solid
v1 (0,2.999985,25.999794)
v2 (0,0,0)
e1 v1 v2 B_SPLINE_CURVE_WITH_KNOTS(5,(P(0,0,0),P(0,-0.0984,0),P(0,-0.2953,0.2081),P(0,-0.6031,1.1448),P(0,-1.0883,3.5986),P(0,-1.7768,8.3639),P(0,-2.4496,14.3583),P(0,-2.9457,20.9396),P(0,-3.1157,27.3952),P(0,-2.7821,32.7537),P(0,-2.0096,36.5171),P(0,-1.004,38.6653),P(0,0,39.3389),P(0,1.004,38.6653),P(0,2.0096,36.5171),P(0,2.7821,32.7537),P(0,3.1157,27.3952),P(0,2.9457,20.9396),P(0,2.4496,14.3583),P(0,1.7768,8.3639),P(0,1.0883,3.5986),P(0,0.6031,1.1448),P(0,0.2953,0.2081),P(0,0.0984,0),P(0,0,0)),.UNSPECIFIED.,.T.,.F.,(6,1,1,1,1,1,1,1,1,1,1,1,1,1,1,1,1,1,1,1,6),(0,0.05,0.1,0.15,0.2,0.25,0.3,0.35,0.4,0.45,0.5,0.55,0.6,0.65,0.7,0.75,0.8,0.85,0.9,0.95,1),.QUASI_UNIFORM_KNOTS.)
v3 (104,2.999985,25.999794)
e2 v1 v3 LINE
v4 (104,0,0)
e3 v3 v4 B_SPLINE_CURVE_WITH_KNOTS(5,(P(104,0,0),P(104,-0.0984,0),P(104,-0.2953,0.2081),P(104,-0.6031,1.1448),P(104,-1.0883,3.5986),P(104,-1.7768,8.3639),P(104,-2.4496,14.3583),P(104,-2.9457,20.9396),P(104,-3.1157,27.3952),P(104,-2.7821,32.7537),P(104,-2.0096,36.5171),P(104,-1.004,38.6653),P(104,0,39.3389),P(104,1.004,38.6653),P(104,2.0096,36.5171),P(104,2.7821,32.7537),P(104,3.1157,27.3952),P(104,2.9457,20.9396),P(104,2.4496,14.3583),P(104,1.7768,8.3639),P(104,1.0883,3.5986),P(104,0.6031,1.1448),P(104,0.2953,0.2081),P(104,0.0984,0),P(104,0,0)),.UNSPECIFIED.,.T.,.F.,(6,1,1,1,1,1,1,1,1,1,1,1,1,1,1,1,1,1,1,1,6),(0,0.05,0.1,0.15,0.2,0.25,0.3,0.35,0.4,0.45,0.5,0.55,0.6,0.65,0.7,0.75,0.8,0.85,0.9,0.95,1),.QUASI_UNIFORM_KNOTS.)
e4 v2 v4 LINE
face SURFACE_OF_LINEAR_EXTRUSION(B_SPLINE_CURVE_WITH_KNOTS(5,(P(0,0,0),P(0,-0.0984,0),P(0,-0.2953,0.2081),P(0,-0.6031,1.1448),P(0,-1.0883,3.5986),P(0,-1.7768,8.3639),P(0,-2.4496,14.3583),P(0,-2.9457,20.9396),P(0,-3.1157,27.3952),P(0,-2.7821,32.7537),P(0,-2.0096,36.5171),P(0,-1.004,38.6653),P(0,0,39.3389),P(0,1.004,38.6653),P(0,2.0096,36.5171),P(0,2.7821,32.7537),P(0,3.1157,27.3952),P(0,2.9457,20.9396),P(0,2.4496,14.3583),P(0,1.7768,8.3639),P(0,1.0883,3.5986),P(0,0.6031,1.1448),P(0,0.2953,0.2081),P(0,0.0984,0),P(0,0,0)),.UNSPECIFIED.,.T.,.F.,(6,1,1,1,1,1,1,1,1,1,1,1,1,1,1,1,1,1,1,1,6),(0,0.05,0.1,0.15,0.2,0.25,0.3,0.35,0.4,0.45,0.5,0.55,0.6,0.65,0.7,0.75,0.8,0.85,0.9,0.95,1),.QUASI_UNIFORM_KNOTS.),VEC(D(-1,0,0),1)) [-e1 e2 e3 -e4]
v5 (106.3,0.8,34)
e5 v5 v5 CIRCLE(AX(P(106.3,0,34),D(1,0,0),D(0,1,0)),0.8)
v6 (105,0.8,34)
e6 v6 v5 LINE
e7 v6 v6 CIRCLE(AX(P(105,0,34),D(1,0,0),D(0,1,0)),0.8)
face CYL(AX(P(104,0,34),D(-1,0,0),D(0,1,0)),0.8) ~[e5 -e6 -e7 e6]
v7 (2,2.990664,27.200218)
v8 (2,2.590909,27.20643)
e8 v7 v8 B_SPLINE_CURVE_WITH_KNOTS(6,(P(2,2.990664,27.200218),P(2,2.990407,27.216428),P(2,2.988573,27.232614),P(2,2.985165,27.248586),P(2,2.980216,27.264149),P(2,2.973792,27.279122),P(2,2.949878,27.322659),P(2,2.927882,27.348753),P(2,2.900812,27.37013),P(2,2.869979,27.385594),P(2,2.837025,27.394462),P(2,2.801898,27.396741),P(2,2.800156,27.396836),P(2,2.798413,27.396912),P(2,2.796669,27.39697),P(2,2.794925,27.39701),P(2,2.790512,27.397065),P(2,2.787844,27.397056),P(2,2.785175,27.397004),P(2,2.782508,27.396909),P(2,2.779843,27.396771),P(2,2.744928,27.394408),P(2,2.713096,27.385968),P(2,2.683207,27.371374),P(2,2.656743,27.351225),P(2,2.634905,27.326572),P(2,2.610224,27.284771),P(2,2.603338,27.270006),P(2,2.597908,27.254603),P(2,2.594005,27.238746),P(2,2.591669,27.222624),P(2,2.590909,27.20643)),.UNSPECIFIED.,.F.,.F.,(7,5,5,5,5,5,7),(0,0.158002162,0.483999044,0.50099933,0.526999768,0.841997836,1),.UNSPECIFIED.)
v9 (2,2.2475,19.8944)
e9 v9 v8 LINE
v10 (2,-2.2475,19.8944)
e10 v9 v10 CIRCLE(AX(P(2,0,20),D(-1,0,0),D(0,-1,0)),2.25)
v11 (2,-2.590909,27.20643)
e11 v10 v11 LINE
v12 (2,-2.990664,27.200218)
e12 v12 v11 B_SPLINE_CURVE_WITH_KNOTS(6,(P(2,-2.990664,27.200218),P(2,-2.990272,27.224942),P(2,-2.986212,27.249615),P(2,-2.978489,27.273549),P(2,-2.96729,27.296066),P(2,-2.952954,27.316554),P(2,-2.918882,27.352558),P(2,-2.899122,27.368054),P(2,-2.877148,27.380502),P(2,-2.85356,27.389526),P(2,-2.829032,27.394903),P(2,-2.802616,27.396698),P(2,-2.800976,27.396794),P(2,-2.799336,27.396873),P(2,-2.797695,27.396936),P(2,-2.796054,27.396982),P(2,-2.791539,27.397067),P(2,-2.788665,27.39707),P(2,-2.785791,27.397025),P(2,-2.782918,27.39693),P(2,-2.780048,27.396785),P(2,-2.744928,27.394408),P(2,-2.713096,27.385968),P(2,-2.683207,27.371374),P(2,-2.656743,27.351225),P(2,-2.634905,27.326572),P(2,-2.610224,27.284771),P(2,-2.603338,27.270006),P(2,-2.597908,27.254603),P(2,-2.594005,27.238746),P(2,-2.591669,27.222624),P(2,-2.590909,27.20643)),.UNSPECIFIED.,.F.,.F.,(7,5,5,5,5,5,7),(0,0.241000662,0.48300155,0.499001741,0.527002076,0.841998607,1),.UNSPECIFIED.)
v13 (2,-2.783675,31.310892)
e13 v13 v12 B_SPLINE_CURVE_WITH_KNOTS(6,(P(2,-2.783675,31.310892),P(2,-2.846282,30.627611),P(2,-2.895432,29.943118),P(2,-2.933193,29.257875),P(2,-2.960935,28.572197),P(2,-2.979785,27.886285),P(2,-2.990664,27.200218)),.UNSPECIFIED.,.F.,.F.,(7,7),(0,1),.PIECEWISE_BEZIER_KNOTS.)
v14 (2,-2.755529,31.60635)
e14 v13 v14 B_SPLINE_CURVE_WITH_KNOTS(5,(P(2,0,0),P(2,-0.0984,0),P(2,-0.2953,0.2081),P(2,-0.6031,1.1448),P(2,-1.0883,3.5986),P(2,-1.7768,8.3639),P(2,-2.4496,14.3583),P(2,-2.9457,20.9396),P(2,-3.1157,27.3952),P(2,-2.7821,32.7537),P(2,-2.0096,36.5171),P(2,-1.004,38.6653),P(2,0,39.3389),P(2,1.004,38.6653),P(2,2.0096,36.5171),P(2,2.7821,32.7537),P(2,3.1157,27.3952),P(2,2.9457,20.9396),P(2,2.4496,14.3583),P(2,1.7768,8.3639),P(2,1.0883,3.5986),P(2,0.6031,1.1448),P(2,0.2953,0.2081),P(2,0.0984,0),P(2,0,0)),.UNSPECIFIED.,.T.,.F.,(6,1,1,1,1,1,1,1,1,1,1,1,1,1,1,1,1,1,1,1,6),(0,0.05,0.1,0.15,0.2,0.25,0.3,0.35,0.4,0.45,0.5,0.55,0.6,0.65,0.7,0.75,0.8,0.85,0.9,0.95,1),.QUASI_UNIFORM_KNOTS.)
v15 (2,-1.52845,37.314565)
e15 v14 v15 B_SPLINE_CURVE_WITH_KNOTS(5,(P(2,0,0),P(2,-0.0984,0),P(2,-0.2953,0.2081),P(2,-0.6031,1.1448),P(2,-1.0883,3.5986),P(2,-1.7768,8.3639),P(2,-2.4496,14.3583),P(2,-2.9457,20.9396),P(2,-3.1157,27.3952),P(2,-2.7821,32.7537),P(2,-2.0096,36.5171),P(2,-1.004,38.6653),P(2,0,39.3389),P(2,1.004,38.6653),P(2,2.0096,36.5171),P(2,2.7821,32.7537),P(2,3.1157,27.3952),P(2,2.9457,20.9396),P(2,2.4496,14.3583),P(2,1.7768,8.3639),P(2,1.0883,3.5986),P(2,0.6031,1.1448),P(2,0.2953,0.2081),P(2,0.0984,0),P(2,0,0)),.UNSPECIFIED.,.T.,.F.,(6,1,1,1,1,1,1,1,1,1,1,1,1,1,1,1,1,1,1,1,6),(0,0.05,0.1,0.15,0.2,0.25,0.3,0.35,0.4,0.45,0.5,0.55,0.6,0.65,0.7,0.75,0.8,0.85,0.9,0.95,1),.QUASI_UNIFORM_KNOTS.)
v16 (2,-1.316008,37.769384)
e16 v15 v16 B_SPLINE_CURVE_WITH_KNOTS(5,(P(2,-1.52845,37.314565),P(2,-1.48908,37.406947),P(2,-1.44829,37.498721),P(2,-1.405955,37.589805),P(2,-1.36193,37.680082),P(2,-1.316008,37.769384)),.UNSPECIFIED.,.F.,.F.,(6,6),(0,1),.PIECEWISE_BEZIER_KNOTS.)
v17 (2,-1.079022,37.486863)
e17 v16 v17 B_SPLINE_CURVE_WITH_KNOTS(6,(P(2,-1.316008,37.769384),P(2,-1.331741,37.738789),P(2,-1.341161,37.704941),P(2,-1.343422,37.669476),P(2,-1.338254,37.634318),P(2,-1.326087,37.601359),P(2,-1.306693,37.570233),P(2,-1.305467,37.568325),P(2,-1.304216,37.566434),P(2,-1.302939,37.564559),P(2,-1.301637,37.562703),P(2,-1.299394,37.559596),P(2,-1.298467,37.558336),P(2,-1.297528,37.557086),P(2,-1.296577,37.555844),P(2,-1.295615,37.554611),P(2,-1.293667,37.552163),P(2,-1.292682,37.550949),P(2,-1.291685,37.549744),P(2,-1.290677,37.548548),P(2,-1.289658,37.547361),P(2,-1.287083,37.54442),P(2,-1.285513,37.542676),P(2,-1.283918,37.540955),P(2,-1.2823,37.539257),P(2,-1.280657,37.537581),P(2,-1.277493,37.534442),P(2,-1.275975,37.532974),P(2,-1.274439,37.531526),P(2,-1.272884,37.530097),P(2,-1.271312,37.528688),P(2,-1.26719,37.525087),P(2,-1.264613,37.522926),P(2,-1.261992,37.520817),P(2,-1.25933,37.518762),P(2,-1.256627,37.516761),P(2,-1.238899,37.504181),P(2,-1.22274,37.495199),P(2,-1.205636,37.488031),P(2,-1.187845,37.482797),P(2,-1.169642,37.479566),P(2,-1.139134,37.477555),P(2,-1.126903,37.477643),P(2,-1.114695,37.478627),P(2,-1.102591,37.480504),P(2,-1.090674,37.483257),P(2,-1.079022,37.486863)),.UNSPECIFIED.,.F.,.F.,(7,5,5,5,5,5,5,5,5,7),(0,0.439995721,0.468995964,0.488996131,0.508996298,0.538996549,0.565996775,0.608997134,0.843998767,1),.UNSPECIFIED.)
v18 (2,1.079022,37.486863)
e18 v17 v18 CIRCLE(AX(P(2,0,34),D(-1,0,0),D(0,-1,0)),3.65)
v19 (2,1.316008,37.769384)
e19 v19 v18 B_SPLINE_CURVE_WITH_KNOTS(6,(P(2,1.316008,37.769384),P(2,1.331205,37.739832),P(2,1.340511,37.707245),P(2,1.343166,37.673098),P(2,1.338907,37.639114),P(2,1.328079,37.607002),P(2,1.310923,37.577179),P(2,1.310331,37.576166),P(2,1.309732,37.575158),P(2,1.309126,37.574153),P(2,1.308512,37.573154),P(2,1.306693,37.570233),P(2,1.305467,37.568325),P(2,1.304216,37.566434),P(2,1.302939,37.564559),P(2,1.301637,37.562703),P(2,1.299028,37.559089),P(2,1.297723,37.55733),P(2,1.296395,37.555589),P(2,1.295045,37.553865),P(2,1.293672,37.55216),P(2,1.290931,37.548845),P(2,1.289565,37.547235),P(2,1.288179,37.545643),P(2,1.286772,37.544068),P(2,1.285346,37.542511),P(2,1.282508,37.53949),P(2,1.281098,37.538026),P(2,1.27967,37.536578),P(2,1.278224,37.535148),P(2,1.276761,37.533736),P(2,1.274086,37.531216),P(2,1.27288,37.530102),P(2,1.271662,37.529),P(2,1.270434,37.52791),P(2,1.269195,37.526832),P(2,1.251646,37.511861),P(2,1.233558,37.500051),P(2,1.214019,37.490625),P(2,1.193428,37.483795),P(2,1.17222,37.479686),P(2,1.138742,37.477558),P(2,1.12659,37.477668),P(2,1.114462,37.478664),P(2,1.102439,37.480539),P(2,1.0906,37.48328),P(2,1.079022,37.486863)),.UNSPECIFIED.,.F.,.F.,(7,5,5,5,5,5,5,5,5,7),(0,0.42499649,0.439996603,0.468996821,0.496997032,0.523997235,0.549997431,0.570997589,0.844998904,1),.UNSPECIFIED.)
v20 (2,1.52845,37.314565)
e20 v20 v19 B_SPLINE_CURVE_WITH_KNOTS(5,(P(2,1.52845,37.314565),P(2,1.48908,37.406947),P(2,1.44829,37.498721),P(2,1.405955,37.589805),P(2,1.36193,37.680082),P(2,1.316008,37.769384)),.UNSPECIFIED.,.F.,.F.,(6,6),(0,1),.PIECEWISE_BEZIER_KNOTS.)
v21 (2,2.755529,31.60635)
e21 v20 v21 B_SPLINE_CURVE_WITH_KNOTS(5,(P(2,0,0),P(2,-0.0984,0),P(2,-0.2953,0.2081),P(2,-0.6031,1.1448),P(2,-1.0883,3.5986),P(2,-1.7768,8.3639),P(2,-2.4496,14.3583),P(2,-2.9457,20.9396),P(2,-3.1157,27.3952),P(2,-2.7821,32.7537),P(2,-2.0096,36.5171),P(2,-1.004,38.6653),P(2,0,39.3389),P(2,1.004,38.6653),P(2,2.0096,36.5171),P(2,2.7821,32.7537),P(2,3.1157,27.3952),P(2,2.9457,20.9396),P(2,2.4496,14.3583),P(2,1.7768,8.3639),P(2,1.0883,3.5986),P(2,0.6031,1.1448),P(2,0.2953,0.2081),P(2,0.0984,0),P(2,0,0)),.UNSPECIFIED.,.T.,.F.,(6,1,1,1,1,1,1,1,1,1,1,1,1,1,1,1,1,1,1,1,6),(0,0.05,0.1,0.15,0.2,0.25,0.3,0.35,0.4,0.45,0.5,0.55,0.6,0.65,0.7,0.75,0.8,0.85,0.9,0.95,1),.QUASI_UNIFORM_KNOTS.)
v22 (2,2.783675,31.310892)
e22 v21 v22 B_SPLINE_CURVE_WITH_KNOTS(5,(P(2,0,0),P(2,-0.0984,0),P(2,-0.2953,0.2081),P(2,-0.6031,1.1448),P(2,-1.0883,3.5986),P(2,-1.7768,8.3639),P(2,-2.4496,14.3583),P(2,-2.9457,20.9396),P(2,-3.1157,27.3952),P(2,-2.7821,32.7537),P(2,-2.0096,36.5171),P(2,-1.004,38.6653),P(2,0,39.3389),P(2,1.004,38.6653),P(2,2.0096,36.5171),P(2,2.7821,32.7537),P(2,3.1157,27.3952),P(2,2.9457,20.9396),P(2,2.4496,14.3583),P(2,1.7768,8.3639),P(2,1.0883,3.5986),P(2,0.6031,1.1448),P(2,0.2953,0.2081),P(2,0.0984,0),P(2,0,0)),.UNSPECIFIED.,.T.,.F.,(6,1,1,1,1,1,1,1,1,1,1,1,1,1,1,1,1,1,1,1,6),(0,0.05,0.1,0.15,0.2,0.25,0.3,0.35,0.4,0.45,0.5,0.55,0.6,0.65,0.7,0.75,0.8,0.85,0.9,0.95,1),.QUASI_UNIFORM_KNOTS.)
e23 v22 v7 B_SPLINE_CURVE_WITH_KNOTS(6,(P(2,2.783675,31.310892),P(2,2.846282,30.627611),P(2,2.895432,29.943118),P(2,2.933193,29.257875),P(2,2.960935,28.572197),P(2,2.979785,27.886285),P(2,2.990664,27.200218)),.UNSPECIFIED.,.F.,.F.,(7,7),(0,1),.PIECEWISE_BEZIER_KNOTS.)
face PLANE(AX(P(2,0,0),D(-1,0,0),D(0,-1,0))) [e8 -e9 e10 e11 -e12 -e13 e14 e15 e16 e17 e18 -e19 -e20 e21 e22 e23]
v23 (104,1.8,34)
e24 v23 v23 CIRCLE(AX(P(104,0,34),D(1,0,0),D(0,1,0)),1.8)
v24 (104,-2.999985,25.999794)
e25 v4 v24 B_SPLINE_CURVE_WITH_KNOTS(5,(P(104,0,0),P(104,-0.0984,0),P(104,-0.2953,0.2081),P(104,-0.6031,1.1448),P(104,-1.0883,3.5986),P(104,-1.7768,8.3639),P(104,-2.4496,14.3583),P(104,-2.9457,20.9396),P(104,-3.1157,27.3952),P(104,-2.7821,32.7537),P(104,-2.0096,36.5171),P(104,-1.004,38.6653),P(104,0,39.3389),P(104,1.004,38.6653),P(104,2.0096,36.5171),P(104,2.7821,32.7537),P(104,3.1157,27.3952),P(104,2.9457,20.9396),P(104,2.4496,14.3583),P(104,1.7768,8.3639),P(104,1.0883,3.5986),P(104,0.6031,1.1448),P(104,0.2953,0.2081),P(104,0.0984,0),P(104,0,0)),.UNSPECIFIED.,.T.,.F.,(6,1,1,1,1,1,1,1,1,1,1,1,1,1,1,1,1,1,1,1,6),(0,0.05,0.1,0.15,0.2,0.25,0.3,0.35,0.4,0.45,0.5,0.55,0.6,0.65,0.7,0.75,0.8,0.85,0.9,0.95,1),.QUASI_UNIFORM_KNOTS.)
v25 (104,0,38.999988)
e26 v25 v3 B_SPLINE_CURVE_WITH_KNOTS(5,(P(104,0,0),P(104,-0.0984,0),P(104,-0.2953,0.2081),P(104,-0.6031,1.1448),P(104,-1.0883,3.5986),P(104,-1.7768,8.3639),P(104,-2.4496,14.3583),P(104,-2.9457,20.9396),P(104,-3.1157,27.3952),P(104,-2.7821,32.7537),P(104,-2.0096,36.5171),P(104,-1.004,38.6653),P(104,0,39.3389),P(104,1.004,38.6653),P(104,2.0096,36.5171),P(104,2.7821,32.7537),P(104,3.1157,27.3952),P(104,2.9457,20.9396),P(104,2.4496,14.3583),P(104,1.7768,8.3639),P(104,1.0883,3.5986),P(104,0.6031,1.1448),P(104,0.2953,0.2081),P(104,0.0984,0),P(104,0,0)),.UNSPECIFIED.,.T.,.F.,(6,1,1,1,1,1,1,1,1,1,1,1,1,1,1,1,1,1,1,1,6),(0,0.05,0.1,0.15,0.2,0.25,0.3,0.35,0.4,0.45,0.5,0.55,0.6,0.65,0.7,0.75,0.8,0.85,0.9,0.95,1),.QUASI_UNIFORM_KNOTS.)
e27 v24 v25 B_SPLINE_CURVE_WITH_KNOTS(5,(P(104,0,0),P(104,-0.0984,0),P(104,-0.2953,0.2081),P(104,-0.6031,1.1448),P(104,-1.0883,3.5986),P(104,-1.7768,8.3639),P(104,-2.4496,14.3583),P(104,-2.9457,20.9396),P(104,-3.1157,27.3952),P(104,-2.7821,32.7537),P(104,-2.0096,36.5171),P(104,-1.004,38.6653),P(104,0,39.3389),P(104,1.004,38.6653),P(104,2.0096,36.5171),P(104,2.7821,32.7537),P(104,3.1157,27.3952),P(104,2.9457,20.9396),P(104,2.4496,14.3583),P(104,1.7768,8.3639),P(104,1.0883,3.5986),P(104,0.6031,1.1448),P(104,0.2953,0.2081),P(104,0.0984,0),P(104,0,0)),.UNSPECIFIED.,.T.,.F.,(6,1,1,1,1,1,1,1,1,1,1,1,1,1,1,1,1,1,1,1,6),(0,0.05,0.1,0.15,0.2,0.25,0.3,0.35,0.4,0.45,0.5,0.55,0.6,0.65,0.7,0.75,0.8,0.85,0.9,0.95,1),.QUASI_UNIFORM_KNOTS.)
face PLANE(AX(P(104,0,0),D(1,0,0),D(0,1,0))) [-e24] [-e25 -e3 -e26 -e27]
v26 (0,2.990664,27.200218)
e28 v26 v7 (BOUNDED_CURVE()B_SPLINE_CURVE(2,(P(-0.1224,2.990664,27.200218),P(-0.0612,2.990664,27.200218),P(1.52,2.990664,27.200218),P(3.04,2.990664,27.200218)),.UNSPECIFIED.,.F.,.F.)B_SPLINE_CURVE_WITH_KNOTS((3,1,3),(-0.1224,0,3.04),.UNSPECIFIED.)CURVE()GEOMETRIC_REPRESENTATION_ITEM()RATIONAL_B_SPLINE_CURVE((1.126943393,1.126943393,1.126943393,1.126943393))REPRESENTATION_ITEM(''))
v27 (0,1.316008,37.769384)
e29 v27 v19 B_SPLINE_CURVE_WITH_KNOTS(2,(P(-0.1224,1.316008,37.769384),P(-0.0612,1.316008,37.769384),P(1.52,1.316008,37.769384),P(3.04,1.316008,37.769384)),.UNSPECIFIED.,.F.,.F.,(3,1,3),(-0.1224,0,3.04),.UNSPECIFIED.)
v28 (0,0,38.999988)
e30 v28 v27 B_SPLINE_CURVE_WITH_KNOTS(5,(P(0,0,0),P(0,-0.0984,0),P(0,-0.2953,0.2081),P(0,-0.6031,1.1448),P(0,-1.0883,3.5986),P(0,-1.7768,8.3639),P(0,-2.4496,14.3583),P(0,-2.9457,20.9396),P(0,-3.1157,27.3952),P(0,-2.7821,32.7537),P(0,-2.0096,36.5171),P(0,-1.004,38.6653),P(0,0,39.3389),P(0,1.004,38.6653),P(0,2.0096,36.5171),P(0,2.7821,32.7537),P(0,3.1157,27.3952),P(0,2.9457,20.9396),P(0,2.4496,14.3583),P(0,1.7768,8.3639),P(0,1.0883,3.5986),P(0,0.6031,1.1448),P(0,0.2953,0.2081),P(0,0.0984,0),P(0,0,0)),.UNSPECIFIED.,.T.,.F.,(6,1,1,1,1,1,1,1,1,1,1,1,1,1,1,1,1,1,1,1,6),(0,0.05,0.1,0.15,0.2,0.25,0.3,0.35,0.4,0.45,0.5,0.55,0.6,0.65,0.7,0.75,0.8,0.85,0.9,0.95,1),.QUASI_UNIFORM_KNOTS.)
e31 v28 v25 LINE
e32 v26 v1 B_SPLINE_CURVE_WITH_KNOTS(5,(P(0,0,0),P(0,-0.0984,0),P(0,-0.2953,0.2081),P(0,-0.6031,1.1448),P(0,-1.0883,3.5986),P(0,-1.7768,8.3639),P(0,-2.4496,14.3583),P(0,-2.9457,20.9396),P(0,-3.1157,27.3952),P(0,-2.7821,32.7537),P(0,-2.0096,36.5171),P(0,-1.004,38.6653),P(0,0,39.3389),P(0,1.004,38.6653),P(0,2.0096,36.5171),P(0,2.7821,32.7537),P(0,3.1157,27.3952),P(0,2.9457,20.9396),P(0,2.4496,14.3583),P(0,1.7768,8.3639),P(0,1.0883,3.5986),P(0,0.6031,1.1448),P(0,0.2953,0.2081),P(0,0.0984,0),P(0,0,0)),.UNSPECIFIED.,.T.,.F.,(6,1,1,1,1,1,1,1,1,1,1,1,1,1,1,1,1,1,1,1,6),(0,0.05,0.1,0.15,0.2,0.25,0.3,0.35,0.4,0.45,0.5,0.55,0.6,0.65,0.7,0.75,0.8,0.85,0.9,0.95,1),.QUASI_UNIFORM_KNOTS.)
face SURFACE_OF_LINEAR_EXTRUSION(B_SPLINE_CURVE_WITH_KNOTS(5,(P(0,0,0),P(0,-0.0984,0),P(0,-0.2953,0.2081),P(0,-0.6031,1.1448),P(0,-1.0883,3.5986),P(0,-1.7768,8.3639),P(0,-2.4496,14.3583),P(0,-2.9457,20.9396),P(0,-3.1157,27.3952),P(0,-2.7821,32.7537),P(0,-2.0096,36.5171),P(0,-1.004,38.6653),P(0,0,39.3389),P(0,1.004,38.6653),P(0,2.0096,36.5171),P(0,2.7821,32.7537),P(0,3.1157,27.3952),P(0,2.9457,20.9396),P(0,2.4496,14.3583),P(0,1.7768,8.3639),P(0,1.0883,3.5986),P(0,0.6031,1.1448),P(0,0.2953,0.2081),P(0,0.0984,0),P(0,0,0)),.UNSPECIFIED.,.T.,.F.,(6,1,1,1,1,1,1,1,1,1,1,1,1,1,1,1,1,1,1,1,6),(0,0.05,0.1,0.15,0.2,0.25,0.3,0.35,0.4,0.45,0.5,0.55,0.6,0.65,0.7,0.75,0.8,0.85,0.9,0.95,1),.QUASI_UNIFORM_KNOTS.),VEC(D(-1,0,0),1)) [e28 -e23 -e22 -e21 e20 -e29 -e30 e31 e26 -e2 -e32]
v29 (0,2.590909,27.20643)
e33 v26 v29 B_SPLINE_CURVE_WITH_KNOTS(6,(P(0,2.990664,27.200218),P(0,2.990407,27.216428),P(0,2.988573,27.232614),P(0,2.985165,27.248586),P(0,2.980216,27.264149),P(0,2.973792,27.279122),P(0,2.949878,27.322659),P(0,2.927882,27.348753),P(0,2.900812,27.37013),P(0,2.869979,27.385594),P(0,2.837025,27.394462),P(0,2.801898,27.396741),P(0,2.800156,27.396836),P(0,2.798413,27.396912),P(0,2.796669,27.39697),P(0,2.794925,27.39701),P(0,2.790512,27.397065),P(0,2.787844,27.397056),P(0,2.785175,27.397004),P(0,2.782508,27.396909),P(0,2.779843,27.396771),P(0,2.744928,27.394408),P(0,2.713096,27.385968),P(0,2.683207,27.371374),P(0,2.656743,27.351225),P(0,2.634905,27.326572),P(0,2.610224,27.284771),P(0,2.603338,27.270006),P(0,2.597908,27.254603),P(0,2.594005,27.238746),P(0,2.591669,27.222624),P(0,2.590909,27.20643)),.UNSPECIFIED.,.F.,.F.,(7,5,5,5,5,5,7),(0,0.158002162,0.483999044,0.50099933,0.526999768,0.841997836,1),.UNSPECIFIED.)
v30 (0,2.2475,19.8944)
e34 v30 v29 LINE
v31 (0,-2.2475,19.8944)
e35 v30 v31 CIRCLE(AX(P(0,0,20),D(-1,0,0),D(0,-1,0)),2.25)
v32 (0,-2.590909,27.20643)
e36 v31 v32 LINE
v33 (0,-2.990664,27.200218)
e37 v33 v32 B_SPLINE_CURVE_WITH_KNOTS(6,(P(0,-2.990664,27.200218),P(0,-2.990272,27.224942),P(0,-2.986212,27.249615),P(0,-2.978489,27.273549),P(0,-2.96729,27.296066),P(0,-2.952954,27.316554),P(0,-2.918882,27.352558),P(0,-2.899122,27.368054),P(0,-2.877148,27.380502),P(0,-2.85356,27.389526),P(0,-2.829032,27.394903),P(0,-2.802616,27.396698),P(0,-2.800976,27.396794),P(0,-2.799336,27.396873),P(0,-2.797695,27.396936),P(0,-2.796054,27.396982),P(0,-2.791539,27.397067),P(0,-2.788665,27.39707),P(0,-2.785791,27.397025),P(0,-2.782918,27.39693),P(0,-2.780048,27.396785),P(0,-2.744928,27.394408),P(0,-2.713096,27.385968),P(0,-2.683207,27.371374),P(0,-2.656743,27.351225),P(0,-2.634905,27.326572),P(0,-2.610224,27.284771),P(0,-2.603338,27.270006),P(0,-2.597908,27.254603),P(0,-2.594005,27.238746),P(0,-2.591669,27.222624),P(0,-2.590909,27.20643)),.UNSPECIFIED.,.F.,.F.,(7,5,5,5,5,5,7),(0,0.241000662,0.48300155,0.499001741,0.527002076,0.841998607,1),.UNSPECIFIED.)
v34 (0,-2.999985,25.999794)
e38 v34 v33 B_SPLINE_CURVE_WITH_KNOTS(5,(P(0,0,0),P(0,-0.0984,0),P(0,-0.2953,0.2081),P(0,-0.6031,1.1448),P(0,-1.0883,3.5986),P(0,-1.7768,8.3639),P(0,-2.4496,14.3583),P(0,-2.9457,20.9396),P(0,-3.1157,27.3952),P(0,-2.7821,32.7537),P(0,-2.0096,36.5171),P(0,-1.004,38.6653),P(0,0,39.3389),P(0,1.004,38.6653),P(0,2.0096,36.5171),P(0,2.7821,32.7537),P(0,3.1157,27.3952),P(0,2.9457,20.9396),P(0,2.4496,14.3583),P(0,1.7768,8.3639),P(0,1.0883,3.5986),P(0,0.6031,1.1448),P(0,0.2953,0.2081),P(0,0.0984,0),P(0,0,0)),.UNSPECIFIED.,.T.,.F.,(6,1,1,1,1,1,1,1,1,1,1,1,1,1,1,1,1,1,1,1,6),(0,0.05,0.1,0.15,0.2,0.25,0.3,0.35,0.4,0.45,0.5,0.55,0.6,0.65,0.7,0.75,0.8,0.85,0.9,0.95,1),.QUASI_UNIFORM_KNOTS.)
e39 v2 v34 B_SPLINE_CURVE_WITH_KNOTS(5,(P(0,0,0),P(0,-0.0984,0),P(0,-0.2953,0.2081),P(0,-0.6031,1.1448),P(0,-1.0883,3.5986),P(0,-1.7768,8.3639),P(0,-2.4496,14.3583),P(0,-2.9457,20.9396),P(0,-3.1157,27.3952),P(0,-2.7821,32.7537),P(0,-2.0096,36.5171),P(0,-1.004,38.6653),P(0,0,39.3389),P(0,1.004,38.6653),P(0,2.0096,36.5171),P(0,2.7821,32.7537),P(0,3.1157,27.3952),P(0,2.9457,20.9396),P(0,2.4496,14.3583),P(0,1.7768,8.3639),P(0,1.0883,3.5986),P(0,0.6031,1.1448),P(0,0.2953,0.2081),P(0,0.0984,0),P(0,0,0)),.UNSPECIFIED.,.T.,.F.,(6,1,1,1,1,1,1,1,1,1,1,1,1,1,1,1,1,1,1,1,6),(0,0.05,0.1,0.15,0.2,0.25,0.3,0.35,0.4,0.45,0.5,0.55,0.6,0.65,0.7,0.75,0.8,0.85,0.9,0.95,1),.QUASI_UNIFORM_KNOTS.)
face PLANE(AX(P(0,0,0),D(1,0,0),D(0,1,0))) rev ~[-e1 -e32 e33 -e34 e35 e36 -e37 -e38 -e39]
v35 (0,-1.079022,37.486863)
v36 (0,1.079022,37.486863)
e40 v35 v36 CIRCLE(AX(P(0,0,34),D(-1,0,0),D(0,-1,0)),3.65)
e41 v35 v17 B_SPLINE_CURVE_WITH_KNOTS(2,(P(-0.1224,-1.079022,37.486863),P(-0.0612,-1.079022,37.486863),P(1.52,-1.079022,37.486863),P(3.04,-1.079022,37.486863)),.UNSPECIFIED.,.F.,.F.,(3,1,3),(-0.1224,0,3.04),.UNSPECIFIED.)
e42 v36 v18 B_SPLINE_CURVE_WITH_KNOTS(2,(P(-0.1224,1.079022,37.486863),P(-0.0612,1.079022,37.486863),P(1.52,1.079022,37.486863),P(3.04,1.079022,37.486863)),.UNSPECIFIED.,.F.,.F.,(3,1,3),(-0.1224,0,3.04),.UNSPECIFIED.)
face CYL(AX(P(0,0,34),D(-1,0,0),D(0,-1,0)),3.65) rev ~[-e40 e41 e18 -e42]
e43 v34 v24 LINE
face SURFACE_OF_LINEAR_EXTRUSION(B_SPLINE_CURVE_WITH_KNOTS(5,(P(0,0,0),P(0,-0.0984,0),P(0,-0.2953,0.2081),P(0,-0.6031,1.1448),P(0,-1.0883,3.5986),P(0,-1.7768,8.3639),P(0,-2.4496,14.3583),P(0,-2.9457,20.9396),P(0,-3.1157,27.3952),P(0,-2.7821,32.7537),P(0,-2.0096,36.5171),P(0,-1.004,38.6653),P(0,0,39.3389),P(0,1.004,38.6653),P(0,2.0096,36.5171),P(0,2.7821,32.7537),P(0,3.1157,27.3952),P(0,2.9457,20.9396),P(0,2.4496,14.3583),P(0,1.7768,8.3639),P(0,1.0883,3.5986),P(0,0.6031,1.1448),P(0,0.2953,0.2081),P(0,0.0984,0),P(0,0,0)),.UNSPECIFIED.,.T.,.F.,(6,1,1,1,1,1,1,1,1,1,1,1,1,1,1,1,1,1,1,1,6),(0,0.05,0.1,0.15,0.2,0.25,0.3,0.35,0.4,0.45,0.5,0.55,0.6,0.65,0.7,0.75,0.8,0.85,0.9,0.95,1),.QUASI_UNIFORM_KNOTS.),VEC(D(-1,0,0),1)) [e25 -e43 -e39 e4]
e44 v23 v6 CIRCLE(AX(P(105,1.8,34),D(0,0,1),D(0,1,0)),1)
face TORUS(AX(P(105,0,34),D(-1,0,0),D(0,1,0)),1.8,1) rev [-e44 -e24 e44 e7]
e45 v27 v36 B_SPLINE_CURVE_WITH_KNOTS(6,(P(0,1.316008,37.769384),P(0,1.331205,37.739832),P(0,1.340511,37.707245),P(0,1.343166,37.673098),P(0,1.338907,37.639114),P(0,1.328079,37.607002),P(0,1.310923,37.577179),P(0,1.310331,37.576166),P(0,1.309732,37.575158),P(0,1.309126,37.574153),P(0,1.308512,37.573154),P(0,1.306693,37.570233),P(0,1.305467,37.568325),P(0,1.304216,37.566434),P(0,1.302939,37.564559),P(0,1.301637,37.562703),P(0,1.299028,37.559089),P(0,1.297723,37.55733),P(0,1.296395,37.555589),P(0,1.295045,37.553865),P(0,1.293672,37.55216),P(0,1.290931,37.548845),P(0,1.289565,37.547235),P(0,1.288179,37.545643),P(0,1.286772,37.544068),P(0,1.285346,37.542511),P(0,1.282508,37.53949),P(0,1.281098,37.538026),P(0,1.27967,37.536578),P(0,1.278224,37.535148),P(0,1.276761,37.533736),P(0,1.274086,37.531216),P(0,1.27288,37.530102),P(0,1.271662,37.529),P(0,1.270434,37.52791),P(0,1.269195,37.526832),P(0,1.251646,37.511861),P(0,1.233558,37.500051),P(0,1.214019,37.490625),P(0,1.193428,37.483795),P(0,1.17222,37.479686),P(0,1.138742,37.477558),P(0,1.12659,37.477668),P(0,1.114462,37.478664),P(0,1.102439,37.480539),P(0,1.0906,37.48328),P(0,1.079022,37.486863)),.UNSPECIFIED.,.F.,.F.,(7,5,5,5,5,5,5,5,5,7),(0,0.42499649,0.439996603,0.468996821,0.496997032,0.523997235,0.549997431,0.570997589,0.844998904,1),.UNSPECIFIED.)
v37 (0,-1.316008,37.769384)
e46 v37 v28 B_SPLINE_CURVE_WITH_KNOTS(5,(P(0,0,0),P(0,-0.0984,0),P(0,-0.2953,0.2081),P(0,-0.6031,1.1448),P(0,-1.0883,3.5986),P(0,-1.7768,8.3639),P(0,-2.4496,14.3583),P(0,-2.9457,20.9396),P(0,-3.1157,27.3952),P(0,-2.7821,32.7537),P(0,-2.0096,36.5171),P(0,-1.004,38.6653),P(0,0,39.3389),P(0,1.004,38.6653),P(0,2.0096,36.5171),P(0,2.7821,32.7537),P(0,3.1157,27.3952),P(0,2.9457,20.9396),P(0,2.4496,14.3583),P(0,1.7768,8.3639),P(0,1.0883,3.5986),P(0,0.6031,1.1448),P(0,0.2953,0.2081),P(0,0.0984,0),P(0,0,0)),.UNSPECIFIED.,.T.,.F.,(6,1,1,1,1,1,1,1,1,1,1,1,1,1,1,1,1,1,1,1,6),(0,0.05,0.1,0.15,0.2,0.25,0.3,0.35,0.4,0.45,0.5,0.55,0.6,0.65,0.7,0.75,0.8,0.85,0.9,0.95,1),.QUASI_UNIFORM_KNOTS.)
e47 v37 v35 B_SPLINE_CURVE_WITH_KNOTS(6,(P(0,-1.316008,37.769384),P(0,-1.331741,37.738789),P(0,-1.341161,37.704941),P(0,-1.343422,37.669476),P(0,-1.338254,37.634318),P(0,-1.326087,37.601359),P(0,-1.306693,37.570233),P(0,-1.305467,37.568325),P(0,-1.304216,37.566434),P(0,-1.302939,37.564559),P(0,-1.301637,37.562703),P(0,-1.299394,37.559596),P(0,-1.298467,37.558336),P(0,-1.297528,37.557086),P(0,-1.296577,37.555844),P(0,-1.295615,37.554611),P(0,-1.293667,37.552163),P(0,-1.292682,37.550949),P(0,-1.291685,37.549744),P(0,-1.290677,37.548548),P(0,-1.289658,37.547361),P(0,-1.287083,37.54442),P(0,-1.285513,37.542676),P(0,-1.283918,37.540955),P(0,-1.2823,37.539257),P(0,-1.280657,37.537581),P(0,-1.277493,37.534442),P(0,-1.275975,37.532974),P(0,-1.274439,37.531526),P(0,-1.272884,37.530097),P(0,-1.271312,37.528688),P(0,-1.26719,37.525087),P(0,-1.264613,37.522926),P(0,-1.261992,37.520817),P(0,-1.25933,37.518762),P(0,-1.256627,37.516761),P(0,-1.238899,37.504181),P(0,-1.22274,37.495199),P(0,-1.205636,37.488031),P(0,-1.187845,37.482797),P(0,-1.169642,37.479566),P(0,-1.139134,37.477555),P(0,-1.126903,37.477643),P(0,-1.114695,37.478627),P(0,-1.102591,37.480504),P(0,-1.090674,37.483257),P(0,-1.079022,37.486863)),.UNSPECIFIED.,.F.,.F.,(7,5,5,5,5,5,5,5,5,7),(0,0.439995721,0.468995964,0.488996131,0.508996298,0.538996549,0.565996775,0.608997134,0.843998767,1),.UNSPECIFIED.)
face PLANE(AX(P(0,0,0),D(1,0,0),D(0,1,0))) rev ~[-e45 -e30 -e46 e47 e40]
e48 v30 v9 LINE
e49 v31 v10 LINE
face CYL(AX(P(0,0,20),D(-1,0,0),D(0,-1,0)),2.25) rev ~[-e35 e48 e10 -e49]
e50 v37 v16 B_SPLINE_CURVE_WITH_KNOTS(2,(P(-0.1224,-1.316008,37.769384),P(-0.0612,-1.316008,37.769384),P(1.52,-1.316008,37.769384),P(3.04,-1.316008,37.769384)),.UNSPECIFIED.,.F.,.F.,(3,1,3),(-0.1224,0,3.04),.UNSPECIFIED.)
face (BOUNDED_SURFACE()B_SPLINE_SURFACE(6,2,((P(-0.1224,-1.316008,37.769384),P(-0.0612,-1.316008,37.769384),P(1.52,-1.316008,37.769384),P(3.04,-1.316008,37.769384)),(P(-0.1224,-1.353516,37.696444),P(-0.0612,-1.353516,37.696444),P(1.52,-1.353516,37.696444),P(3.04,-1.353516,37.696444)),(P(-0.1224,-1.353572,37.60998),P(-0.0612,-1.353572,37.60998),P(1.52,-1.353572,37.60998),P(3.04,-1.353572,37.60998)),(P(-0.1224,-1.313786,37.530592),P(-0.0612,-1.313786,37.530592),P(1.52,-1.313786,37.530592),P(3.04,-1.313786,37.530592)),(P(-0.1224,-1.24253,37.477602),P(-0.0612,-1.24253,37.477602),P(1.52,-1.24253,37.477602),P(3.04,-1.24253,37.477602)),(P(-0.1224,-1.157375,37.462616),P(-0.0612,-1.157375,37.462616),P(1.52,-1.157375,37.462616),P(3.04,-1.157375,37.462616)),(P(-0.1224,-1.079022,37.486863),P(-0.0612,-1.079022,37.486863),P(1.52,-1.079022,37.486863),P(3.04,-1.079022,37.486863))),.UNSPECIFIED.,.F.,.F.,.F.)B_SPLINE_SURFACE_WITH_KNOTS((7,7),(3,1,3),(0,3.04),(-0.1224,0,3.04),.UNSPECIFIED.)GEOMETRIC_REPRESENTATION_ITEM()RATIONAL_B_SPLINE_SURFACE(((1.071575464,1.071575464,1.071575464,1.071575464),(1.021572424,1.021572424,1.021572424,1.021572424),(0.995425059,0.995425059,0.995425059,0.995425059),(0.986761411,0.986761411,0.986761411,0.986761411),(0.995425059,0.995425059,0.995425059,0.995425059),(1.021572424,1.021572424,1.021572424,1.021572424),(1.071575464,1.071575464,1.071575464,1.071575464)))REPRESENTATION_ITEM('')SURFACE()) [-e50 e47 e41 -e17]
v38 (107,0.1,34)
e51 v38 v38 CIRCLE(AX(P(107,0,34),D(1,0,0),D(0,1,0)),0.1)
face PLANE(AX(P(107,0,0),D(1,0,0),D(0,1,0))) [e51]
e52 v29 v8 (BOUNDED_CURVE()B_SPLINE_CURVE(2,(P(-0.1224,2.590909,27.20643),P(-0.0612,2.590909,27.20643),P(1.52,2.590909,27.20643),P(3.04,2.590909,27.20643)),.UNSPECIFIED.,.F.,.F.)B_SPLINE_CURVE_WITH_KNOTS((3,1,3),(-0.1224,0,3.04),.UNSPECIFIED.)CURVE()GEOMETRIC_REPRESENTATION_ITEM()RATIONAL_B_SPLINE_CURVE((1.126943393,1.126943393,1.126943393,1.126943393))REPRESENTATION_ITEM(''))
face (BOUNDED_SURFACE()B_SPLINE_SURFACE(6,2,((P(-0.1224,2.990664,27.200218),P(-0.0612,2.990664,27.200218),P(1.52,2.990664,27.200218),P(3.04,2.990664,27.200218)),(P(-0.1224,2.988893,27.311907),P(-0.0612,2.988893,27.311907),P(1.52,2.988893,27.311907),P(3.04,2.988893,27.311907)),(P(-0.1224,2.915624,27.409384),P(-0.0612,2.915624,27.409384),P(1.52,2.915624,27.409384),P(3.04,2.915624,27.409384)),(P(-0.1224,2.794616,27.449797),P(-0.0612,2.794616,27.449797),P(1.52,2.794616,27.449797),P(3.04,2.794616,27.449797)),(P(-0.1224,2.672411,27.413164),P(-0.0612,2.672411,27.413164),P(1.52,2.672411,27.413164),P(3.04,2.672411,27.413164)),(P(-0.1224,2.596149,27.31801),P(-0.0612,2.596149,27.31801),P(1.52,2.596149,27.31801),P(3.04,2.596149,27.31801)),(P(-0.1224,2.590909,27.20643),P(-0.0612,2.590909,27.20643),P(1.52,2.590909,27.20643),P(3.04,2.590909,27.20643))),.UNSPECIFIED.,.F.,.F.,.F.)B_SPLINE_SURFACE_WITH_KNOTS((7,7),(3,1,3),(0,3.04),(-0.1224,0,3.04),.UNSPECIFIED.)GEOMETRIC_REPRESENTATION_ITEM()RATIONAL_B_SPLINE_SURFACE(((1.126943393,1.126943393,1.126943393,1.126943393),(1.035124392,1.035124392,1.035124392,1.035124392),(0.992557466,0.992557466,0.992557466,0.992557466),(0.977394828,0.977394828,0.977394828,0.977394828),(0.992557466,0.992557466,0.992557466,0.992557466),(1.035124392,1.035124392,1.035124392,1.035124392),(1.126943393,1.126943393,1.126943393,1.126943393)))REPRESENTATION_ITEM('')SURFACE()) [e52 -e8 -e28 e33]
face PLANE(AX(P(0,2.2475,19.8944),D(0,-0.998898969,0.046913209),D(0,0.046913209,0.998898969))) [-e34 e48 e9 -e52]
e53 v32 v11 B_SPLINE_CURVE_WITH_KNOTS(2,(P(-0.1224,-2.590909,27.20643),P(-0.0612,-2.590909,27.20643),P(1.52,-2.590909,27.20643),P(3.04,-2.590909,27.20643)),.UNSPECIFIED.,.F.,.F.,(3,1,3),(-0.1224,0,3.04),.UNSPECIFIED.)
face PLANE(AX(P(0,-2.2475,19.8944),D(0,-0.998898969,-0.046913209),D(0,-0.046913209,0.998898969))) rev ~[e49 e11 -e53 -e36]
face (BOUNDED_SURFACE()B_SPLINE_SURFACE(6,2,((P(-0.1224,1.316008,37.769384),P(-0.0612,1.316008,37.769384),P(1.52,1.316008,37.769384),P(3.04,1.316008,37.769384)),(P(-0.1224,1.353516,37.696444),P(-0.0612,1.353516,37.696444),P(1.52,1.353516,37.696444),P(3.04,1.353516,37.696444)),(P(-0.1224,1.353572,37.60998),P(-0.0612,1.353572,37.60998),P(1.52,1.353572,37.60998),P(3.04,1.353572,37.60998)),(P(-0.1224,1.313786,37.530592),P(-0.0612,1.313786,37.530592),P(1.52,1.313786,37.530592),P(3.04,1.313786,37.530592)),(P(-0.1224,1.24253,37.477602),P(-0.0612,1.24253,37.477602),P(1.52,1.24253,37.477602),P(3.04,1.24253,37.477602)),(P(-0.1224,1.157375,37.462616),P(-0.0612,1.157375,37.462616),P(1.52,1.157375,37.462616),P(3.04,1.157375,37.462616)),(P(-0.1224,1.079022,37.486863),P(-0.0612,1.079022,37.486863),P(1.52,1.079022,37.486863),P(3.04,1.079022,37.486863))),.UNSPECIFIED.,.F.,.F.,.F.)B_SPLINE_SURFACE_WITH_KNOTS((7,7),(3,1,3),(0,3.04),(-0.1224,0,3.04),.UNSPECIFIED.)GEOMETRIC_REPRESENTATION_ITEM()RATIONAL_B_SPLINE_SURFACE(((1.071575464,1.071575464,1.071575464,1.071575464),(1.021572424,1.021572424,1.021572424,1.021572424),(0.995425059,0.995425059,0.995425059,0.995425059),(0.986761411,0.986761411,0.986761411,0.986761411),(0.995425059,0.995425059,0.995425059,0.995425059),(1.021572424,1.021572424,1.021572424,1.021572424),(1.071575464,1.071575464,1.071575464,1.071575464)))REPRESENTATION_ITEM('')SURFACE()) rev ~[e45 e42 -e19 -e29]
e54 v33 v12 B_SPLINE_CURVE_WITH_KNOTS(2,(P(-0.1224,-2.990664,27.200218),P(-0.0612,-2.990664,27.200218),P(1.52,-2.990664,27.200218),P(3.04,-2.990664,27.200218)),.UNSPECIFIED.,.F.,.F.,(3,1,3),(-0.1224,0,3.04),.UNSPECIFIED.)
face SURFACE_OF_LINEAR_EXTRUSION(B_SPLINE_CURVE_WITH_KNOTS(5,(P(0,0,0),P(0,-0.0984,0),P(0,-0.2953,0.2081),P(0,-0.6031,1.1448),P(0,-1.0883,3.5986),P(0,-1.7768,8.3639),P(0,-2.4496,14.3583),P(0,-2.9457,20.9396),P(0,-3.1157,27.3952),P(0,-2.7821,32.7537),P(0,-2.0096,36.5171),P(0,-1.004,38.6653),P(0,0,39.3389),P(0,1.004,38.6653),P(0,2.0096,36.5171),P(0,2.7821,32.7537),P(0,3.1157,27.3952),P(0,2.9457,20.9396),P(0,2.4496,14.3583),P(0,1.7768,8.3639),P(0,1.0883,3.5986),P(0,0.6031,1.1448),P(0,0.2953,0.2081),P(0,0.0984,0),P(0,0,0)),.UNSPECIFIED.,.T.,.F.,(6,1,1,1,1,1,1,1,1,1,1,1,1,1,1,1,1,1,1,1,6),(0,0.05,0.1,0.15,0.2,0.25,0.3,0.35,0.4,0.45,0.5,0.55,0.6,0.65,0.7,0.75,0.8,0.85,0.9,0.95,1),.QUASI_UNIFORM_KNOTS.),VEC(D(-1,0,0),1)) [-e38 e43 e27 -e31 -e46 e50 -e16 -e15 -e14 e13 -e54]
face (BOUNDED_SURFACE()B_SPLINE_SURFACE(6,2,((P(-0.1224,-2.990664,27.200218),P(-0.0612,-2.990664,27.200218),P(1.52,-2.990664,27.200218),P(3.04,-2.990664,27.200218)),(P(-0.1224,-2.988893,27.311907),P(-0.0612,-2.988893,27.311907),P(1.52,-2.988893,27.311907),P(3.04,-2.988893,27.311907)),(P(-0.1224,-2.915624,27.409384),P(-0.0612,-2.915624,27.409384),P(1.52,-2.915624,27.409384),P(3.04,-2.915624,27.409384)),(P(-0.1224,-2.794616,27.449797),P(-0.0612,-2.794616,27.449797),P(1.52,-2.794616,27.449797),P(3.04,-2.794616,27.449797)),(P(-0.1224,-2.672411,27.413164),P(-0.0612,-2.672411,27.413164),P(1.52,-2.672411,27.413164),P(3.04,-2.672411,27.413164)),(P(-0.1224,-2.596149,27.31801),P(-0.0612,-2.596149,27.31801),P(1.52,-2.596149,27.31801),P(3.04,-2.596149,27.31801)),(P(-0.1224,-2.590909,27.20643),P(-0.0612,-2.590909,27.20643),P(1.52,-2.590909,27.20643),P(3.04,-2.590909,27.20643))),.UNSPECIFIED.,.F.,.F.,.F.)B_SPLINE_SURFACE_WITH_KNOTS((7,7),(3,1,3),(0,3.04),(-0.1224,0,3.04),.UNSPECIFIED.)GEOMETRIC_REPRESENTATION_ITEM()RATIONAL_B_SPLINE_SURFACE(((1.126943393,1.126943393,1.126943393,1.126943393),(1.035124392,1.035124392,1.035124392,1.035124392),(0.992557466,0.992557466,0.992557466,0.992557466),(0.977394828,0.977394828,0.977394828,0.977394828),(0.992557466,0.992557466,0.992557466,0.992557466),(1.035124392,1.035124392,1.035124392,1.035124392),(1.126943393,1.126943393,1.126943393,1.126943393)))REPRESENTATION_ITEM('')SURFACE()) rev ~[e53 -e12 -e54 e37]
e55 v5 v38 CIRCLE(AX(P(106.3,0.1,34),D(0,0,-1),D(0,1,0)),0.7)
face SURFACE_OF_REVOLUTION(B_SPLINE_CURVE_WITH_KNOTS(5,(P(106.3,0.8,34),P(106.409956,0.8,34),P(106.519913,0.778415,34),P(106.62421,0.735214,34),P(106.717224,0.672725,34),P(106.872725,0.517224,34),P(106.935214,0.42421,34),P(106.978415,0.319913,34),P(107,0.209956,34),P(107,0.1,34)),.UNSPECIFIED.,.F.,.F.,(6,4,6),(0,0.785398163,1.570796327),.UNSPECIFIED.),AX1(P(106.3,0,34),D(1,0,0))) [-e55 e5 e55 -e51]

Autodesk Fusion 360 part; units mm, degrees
sketch "Sketch1" plane through (0, 0, 0) normal (1, 0, 0) x (0, 1, 0)
  spline S0 degree 5 poles (0, 0) (-0.0984, 0) (-0.2953, 0.2081) (-0.6031, 1.1448) (-1.0883, 3.5986) (-1.7768, 8.3639) (-2.4496, 14.3583) (-2.9457, 20.9396) (-3.1157, 27.3952) (-2.7821, 32.7537) (-2.0096, 36.5171) (-1.004, 38.6653) (0, 39.3389) (1.004, 38.6653) (2.0096, 36.5171) (2.7821, 32.7537) (3.1157, 27.3952) (2.9457, 20.9396) (2.4496, 14.3583) (1.7768, 8.3639) (1.0883, 3.5986) (0.6031, 1.1448) (0.2953, 0.2081) (0.0984, 0) (0, 0) knots 0 0 0 0 0 0 0.05 0.1 0.15 0.2 0.25 0.3 0.35 0.4 0.45 0.5 0.55 0.6 0.65 0.7 0.75 0.8 0.85 0.9 0.95 1 1 1 1 1 1
  line L0 (-3, 16) -> (-3, 36)
  line L1 (3, 36) -> (3, 16)
  line L2 (-1.5, 39) -> (1.5, 39)
  line L3 (0.5, 0) -> (-0.5, 0)
  point P0 (-3, 26)
  point P1 (0, 39)
  point P2 (3, 26)
  dimension "d1" = 26
  dimension "d2" = 13
  dimension "d4" = 6
  dimension "d5" = 20
  dimension "d6" = 1
  dimension "d7" = 3
extrude "Extrude1" add sketch "Sketch1" along normal blind 104
sketch "Sketch2" plane through (0, 0, 0) normal (-1, 0, 0) x (0, -1, 0)
  spline S0 degree 5 poles (0, 0) (0.0984, 0) (0.2953, 0.2081) (0.6031, 1.1448) (1.0883, 3.5986) (1.7768, 8.3639) (2.4496, 14.3583) (2.9457, 20.9396) (3.1157, 27.3952) (2.7821, 32.7537) (2.0096, 36.5171) (1.004, 38.6653) (0, 39.3389) (-1.004, 38.6653) (-2.0096, 36.5171) (-2.7821, 32.7537) (-3.1157, 27.3952) (-2.9457, 20.9396) (-2.4496, 14.3583) (-1.7768, 8.3639) (-1.0883, 3.5986) (-0.6031, 1.1448) (-0.2953, 0.2081) (-0.0984, 0) (0, 0) knots 0 0 0 0 0 0 0.05 0.1 0.15 0.2 0.25 0.3 0.35 0.4 0.45 0.5 0.55 0.6 0.65 0.7 0.75 0.8 0.85 0.9 0.95 1 1 1 1 1 1
  circle A0 centre (0, 34) radius 3.65
  circle A1 centre (0, 20) radius 2.25
  line L0 (2.2475, 19.8944) -> (2.8, 31.6585)
  line L1 (-2.2475, 19.8944) -> (-2.8, 31.6585)
  dimension "d10" = 7.3
  dimension "d11" = 4.5
  dimension "d12" = 14
  dimension "d13" = 5.6
  dimension "d14" = 34
extrude "Extrude2" cut sketch "Sketch2" against normal blind 2 contours S0 A0 A1 L0 L1 | S0 A0 | A1 picked at (0.1296, 33.0055)
sketch "Sketch3" plane through (104, 0, 0) normal (1, 0, 0) x (0, 1, 0)
  spline S0 degree 5 poles (0, 0) (0.0984, 0) (0.2953, 0.2081) (0.6031, 1.1448) (1.0883, 3.5986) (1.7768, 8.3639) (2.4496, 14.3583) (2.9457, 20.9396) (3.1157, 27.3952) (2.7821, 32.7537) (2.0096, 36.5171) (1.004, 38.6653) (0, 39.3389) (-1.004, 38.6653) (-2.0096, 36.5171) (-2.7821, 32.7537) (-3.1157, 27.3952) (-2.9457, 20.9396) (-2.4496, 14.3583) (-1.7768, 8.3639) (-1.0883, 3.5986) (-0.6031, 1.1448) (-0.2953, 0.2081) (-0.0984, 0) (0, 0) knots -1 -1 -1 -1 -1 -1 -0.95 -0.9 -0.85 -0.8 -0.75 -0.7 -0.65 -0.6 -0.55 -0.5 -0.45 -0.4 -0.35 -0.3 -0.25 -0.2 -0.15 -0.1 -0.05 0 0 0 0 0 0
  circle A0 centre (0, 34) radius 0.8
  dimension "d17" = 1.6
  dimension "d18" = 34
extrude "Extrude3" add sketch "Sketch3" along normal blind 3 contours A0
fillet "Fillet1" radius 1 1 edges at (104, -0.7459, 34.2893)
fillet "Fillet1" radius 0.7 1 edges at (107, -0.7459, 33.7107)
fillet "Fillet1" radius 0.2 4 edges at (1, -1.5285, 37.3146) (1, 1.5285, 37.3146) (1, -2.7837, 31.3111) (1, 2.7837, 31.3111)
